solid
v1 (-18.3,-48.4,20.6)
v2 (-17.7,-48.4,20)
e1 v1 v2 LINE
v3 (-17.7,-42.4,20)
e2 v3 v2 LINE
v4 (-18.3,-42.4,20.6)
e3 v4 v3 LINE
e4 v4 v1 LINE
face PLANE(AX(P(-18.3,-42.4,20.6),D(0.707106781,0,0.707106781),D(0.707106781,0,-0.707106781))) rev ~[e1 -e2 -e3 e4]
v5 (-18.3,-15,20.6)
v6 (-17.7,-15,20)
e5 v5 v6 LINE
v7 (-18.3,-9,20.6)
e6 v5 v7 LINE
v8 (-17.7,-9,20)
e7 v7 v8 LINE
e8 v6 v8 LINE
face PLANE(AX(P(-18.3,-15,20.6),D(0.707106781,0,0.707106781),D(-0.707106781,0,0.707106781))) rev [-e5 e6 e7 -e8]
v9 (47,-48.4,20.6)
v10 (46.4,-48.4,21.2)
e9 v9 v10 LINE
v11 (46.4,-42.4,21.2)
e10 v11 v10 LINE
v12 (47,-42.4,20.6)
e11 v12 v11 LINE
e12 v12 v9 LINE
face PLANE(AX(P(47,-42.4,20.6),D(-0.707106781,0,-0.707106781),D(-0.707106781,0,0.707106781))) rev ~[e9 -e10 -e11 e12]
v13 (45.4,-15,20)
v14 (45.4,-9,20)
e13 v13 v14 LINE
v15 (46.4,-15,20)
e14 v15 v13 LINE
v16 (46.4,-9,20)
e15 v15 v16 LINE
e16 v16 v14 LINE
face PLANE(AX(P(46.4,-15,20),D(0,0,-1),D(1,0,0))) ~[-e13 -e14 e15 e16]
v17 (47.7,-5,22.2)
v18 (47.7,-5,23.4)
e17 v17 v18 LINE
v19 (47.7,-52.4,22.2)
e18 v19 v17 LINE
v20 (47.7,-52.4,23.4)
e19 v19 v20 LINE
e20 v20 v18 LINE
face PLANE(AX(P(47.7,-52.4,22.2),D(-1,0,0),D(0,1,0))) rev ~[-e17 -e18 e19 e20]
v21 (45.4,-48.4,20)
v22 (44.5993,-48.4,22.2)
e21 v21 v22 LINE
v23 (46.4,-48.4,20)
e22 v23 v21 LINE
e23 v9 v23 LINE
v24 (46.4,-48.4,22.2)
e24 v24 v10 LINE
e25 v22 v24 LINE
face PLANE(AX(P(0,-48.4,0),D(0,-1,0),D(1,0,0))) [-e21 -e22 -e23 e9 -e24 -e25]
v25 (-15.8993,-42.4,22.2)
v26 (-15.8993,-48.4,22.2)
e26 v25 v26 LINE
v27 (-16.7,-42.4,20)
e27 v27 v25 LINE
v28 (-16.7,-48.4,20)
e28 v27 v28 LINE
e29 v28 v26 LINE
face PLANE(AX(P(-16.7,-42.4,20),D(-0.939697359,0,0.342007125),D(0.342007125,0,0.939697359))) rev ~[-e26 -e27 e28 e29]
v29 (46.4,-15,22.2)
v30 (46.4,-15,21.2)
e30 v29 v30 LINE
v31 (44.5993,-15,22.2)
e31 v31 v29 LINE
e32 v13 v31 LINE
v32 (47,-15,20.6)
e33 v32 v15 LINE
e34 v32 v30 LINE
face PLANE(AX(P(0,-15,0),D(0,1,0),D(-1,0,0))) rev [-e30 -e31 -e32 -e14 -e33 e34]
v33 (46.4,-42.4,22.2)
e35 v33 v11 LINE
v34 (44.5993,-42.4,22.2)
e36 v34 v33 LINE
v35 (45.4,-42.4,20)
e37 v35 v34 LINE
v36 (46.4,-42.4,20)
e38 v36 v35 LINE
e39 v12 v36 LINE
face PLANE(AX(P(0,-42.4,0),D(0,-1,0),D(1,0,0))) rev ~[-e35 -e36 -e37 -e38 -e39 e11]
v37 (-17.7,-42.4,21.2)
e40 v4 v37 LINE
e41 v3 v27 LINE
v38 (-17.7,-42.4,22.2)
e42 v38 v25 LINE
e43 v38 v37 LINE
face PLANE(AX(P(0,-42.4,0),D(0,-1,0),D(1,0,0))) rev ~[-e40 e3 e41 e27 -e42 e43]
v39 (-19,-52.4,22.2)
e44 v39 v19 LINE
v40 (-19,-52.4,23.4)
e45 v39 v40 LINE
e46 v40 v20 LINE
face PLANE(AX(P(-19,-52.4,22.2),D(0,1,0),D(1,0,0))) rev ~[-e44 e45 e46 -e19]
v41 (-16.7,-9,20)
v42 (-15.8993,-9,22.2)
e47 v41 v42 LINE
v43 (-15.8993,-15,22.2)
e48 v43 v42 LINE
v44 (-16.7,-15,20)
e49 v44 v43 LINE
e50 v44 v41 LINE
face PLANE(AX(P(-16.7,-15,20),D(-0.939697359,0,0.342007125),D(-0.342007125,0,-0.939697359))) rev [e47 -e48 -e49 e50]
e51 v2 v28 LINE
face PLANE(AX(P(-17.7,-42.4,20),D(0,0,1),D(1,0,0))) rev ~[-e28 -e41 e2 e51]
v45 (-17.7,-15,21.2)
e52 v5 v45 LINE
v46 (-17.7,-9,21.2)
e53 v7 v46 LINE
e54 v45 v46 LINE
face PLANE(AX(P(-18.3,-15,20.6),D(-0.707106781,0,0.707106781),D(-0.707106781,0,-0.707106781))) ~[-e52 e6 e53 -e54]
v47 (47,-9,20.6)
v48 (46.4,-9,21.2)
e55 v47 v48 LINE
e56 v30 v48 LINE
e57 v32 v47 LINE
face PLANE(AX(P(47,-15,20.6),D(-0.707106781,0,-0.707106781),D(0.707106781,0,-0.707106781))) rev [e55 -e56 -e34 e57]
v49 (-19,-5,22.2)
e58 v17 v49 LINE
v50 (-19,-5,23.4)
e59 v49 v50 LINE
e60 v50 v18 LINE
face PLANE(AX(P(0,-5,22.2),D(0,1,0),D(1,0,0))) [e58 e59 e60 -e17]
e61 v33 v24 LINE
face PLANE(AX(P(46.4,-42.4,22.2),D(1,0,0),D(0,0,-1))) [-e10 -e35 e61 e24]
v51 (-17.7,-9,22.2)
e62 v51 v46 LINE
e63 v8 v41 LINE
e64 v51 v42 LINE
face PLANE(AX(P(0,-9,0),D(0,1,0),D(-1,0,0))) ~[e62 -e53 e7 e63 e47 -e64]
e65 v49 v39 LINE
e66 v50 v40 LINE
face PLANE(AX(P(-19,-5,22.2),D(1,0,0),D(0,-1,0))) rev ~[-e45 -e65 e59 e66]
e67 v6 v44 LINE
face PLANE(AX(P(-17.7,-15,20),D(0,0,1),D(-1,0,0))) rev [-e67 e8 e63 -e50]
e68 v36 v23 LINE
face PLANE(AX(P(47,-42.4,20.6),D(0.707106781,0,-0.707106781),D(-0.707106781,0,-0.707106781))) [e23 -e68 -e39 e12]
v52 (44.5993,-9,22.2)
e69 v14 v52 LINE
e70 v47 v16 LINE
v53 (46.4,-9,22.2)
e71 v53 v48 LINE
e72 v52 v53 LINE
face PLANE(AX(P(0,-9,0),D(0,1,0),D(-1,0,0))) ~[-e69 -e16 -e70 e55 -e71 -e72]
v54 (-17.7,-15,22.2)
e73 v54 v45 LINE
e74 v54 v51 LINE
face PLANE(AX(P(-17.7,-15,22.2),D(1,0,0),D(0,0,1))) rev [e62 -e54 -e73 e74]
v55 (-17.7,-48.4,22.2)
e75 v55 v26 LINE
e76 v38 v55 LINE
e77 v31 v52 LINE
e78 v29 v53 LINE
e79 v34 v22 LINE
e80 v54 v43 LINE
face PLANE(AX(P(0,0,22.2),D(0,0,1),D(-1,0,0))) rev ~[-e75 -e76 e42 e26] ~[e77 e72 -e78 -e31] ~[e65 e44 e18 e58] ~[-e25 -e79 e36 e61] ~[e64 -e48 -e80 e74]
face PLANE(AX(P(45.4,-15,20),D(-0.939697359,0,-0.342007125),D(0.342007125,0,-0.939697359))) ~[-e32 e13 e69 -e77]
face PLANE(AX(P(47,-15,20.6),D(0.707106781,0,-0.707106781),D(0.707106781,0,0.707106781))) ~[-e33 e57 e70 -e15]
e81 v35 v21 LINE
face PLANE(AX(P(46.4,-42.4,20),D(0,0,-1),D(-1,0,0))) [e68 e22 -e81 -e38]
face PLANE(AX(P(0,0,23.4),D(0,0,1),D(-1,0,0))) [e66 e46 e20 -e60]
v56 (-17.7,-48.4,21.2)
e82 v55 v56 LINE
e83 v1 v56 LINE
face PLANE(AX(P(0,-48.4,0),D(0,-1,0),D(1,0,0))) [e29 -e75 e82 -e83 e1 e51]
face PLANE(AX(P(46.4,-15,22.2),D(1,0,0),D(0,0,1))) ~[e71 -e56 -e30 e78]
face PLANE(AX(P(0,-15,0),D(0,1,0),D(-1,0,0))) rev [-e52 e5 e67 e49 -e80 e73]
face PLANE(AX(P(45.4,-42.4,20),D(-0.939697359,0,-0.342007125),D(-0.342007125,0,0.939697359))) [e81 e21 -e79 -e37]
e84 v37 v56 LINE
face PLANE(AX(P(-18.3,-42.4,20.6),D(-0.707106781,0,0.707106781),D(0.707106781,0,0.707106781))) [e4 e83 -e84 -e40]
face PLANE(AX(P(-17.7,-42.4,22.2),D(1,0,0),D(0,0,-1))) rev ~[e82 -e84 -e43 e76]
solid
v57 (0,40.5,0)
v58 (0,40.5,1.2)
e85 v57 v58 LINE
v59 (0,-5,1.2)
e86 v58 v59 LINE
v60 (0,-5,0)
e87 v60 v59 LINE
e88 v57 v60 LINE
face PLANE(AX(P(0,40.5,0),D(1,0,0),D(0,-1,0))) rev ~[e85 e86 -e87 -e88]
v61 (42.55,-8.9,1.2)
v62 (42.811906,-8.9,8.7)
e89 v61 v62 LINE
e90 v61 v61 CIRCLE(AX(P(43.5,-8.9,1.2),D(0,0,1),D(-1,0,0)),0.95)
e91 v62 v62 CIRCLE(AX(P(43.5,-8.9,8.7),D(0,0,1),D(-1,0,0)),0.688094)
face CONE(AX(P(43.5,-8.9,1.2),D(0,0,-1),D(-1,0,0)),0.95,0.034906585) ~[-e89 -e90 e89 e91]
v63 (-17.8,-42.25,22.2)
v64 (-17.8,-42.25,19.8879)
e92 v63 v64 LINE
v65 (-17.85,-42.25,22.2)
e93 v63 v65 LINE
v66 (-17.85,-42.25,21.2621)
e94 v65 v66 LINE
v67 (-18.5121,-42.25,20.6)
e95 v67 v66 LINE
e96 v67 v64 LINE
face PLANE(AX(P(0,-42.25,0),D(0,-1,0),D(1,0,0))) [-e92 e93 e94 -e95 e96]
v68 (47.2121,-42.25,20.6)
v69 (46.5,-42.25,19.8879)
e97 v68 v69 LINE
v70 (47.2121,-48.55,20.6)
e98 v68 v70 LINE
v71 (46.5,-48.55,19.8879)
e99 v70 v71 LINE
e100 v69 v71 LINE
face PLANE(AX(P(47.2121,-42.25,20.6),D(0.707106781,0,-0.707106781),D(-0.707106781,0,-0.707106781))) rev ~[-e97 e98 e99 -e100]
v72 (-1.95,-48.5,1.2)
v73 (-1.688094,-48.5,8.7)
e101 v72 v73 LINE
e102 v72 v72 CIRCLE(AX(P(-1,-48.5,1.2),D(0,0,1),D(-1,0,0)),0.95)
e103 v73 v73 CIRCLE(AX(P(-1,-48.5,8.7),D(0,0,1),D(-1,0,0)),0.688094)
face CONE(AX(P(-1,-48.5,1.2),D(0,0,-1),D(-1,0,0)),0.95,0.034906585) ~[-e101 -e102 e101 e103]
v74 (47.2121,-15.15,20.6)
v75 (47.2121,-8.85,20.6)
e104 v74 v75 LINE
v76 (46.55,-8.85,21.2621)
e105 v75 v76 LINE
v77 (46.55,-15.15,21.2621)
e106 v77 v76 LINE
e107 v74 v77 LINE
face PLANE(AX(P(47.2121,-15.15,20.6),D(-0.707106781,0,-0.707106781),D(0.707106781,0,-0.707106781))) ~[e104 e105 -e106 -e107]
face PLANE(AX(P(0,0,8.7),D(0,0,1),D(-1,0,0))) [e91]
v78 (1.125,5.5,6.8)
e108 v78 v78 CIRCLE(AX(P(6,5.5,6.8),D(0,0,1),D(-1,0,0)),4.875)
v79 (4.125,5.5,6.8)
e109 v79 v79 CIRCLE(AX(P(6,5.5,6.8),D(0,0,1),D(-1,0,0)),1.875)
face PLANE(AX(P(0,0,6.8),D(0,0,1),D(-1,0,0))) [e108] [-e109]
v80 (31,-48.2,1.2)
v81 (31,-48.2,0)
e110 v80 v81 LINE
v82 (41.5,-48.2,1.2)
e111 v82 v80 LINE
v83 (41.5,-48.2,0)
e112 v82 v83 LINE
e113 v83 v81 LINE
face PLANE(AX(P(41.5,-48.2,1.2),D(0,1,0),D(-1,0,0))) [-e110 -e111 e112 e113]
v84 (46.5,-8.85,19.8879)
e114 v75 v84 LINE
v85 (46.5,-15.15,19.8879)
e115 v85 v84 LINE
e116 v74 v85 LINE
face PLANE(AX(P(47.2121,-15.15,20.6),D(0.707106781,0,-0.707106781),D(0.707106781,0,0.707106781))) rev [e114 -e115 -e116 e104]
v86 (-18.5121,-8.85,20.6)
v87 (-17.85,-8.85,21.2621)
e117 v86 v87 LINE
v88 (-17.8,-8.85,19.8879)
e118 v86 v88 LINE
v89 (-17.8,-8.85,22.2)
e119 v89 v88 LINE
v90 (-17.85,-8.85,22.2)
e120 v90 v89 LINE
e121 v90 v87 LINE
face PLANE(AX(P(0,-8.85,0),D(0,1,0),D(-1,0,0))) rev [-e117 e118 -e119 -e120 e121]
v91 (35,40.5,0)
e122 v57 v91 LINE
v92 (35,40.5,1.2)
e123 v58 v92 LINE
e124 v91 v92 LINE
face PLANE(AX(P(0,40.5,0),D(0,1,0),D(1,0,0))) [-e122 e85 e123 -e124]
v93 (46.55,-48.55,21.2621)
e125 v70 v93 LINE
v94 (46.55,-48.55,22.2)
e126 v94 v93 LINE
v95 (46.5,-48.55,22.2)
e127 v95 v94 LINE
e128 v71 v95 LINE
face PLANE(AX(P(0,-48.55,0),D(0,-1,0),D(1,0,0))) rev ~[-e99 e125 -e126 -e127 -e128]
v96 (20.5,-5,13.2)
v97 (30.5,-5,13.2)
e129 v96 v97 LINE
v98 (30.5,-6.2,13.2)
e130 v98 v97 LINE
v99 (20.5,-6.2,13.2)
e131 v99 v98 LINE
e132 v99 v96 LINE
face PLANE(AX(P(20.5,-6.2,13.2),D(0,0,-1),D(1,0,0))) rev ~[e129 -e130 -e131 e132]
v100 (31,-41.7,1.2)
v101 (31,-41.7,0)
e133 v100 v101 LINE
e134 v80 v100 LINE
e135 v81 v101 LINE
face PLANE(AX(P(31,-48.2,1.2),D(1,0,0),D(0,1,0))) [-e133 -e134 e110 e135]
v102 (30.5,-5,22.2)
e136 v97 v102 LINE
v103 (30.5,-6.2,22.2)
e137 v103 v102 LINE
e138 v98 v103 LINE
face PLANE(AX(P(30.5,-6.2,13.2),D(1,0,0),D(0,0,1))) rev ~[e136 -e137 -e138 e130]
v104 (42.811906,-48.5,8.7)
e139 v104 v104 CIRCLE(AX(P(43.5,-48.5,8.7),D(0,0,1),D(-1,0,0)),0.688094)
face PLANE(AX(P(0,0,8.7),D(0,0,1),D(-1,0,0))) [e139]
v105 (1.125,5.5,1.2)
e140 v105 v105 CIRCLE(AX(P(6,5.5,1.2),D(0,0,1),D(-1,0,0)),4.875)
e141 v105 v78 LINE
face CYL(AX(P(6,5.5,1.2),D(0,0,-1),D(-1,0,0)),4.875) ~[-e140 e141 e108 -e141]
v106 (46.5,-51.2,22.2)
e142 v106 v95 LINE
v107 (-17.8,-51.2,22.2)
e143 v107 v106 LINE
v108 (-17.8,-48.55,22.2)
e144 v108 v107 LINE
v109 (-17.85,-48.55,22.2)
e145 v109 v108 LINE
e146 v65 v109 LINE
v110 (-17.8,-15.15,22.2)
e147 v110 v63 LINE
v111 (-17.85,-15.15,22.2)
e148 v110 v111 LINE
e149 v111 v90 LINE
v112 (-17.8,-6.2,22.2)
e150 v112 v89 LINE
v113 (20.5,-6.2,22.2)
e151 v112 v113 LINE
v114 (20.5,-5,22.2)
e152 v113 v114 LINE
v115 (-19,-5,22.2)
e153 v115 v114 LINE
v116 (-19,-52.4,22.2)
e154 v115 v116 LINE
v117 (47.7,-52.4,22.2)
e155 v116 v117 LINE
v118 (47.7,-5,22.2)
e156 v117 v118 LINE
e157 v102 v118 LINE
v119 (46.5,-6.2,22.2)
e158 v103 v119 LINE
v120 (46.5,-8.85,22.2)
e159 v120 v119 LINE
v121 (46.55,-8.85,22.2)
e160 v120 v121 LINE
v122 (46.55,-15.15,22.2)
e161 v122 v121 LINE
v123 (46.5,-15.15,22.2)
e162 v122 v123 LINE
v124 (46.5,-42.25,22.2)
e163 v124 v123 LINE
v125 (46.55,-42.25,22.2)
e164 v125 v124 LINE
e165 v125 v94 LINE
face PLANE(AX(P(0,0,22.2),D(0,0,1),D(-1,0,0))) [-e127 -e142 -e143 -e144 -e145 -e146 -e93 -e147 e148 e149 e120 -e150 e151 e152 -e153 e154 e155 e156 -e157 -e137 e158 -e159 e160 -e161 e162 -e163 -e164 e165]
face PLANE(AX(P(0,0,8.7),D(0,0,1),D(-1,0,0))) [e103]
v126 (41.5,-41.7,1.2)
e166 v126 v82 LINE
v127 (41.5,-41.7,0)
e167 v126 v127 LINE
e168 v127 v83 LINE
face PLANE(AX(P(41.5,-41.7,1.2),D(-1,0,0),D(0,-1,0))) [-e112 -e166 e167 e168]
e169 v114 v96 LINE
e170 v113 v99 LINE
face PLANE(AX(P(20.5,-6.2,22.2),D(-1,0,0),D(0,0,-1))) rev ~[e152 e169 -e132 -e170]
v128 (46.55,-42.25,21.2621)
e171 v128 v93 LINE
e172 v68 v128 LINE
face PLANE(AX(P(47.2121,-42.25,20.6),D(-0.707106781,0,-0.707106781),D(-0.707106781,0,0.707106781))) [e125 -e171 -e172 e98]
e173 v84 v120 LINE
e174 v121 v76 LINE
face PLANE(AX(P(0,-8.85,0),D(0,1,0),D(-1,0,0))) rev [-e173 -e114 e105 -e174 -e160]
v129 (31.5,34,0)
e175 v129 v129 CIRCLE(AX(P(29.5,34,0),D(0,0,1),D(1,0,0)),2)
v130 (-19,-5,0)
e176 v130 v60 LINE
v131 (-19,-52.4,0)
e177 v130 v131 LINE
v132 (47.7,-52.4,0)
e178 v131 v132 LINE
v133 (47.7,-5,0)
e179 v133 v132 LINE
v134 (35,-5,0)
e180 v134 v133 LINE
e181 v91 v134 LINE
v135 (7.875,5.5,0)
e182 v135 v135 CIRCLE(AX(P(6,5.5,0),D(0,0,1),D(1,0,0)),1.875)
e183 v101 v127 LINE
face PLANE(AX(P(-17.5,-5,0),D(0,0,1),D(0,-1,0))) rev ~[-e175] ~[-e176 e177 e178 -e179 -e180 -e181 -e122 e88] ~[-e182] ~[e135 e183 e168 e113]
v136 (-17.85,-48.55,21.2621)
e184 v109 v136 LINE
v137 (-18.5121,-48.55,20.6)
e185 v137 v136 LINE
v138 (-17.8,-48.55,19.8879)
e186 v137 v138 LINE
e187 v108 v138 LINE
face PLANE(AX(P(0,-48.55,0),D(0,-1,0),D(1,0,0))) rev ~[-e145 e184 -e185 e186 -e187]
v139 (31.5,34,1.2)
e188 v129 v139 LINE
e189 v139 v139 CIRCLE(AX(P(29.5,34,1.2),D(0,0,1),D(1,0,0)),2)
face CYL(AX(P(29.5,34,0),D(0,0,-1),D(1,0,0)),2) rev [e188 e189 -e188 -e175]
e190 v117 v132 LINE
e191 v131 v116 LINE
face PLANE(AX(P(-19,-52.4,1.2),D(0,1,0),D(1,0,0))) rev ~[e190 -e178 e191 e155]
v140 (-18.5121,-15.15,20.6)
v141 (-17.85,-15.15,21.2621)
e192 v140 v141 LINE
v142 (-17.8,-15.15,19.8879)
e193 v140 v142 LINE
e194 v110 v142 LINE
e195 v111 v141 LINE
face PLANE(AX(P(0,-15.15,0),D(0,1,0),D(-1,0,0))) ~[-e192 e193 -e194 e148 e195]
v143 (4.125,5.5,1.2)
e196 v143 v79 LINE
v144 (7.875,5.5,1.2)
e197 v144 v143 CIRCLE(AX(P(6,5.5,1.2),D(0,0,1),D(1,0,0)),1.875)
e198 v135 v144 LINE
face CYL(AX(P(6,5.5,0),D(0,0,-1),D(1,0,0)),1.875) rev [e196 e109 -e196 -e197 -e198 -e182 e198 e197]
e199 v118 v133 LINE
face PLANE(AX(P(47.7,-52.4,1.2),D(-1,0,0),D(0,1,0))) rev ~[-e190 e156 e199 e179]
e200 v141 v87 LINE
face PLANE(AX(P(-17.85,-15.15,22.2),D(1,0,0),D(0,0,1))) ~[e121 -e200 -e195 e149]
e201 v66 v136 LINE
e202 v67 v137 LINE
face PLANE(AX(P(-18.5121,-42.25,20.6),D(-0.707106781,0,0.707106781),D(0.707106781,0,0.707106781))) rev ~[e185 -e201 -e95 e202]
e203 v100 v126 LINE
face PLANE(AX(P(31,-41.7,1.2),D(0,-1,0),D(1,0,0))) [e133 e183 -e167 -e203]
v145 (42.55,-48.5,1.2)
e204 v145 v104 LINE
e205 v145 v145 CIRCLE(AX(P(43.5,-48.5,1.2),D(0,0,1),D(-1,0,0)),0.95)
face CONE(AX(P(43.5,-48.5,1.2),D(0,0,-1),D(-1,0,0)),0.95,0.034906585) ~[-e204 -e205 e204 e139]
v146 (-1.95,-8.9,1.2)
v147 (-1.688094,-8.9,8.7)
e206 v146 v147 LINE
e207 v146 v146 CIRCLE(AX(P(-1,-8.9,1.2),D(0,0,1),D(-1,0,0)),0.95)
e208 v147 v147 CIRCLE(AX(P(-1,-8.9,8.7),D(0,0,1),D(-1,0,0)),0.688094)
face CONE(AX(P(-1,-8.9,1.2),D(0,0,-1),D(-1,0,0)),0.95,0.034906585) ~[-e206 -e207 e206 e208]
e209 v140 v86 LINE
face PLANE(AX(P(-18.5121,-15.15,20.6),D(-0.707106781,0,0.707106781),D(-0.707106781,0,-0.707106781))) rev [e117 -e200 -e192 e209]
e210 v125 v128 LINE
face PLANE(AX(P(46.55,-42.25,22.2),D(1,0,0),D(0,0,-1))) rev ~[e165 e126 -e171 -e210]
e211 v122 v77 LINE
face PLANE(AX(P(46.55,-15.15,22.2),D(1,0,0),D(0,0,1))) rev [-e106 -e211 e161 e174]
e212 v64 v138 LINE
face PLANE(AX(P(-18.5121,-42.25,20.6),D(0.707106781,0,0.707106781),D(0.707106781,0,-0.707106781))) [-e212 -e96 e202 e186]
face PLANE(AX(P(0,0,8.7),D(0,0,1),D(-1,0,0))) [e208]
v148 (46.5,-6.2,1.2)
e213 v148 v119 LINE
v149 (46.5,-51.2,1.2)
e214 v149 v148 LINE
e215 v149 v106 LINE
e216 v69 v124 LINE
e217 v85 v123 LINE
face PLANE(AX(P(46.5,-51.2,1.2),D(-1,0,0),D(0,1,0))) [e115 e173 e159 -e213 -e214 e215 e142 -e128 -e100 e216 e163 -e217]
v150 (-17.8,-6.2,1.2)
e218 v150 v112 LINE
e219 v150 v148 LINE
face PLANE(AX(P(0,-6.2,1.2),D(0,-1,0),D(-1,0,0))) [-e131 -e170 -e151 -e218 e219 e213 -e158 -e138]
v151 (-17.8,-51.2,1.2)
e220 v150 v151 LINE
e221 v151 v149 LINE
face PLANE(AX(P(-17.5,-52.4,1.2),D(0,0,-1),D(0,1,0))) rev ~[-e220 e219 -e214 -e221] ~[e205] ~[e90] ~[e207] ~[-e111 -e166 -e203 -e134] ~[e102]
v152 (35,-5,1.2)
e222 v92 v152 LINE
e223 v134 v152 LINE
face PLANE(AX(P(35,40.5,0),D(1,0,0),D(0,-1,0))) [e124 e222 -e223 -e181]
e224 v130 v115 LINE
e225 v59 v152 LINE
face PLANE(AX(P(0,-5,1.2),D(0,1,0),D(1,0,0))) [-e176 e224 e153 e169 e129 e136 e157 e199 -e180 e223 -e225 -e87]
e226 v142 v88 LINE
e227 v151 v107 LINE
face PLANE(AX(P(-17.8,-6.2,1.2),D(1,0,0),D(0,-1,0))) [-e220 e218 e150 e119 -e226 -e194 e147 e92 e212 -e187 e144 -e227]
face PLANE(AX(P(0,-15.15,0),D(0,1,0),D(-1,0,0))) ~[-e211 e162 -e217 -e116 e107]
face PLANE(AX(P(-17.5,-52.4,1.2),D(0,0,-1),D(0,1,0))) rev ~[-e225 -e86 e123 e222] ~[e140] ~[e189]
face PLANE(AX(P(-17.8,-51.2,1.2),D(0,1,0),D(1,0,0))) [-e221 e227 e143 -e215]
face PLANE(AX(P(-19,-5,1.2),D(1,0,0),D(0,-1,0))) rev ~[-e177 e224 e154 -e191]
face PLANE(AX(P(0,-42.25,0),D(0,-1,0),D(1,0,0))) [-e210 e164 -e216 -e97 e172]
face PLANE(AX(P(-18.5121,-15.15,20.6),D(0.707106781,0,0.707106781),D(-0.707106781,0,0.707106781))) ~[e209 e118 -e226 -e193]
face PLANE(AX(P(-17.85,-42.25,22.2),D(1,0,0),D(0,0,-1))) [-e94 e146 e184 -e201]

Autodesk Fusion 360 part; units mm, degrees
sketch "Sketch1" plane through (0, 0, 0) normal (0, 0, 1) x (1, 0, 0)
  line L0 (0, 0) -> (35, 0) construction
  line L1 (35, 0) -> (35, 40.5) construction
  line L2 (35, 40.5) -> (0, 40.5) construction
  line L3 (0, 40.5) -> (0, 0) construction
  line L4 (0, 0) -> (6, 0) construction
  line L5 (6, 0) -> (6, 5.5) construction
  line L6 (6, 5.5) -> (0, 5.5) construction
  line L7 (0, 5.5) -> (0, 0) construction
  line L8 (35, 40.5) -> (29.5, 40.5) construction
  line L9 (29.5, 40.5) -> (29.5, 34) construction
  line L10 (29.5, 34) -> (35, 34) construction
  line L11 (35, 34) -> (35, 40.5) construction
  circle A0 centre (29.5, 34) radius 2
  circle A1 centre (6, 5.5) radius 1.875
  line L12 (0, 40.5) -> (11.5, 40.5) construction
  line L13 (11.5, 40.5) -> (11.5, 0) construction
  line L14 (11.5, 0) -> (11.5, -5) construction
  line L15 (11.5, -5) -> (36.5, -5) construction
  line L16 (36.5, -5) -> (36.5, 48) construction
  line L17 (36.5, 48) -> (11.5, 48) construction
  line L18 (11.5, 48) -> (11.5, -5) construction
  line L19 (36.5, -5) -> (46.5, -5) construction
  line L20 (46.5, -5) -> (-17.5, -5)
  line L21 (-17.5, -5) -> (-17.5, -50)
  line L22 (-17.5, -50) -> (46.5, -50)
  line L23 (46.5, -50) -> (46.5, -5)
  line L24 (0, 40.5) -> (0, -5)
  line L25 (0, 40.5) -> (35, 40.5)
  line L26 (35, 40.5) -> (35, -5)
  dimension "d1" = 35
  dimension "d2" = 40.5
  dimension "d3" = 6
  dimension "d4" = 5.5
  dimension "d5" = 5.5
  dimension "d6" = 6.5
  dimension "d7" = 4
  dimension "d8" = 3.75
  dimension "d9" = 11.5
  dimension "d10" = 5
  dimension "d11" = 25
  dimension "d12" = 53
  dimension "d13" = 10
  dimension "d14" = 64
  dimension "d15" = 45
extrude "Extrude1" add sketch "Sketch1" along normal blind 1.2 makes body 1
sketch "Sketch2" plane through (0, 0, 1.2) normal (0, 0, 1) x (-1, 0, 0)
  circle A0 centre (-6, -5.5) radius 1.875
  circle A1 centre (-29.5, -34) radius 2
  line L0 (0, -40.5) -> (0, 5)
  line L1 (0, 5) -> (17.5, 5)
  line L2 (17.5, 5) -> (17.5, 50)
  line L3 (17.5, 50) -> (-46.5, 50)
  line L4 (-46.5, 50) -> (-46.5, 5)
  line L5 (-46.5, 5) -> (-35, 5)
  line L6 (-35, 5) -> (-35, -40.5)
  line L7 (-35, -40.5) -> (0, -40.5)
  circle A2 centre (-6, -5.5) radius 4.875
  line L8 (17.5, 5) -> (-46.5, 5)
  line L9 (-46.5, 5) -> (-46.5, 50)
  line L10 (-46.5, 50) -> (17.5, 50)
  line L11 (17.5, 50) -> (17.5, 5)
  dimension "d18" = 3
extrude "Extrude2" add sketch "Sketch2" along normal blind 5.6 contours A2 bodies 1
extrude "Extrude3" add 1 faces at (3.8333, -50, 0.4) along direction (0, -1, 0) blind 2.4 on bodies 1 bodies 1
extrude "Extrude4" add 1 faces at (46.5, -36.6, 0.8) along direction (1, 0, 0) blind 1.2 on bodies 1 bodies 1
extrude "Extrude5" add 1 faces at (-17.5, -36.6, 0.8) along direction (-1, 0, 0) blind 1.5 on bodies 1 bodies 1
sketch "Sketch3" plane through (0, 0, 1.2) normal (0, 0, 1) x (-1, 0, 0)
  circle A0 centre (-6, -5.5) radius 4.875
  circle A1 centre (-29.5, -34) radius 2
  line L0 (0, -40.5) -> (0, 5)
  line L1 (0, 5) -> (19, 5)
  line L2 (19, 5) -> (19, 52.4)
  line L3 (19, 52.4) -> (-47.7, 52.4)
  line L4 (-47.7, 52.4) -> (-47.7, 5)
  line L5 (-47.7, 5) -> (-35, 5)
  line L6 (-35, 5) -> (-35, -40.5)
  line L7 (-35, -40.5) -> (0, -40.5)
  line L8 (0, 5) -> (-35, 5)
  line L9 (0, 6.2) -> (-35, 6.2)
  line L10 (-46.5, 6.2) -> (-35, 6.2)
  line L11 (-46.5, 51.2) -> (-46.5, 6.2)
  line L12 (17.8, 51.2) -> (-46.5, 51.2)
  line L13 (17.8, 6.2) -> (17.8, 51.2)
  line L14 (0, 6.2) -> (17.8, 6.2)
  line L15 (-46.5, 51.2) -> (-46.5, 48.2) construction
  line L16 (-46.5, 48.2) -> (-41.5, 48.2) construction
  line L17 (-41.5, 48.2) -> (-31, 48.2)
  line L18 (-31, 48.2) -> (-31, 41.7)
  line L19 (-31, 41.7) -> (-41.5, 41.7)
  line L20 (-41.5, 41.7) -> (-41.5, 48.2)
  line L21 (-46.5, 51.2) -> (-46.5, 48.5) construction
  line L22 (-46.5, 48.5) -> (-43.5, 48.5) construction
  circle A2 centre (-43.5, 48.5) radius 0.95
  line L23 (-46.5, 6.2) -> (-43.5, 6.2) construction
  line L24 (-43.5, 6.2) -> (-43.5, 8.9) construction
  line L25 (-43.5, 8.9) -> (-46.5, 8.9) construction
  line L26 (-46.5, 8.9) -> (-46.5, 6.2) construction
  circle A3 centre (-43.5, 8.9) radius 0.95
  line L27 (-43.5, 8.9) -> (1, 8.9) construction
  line L28 (-43.5, 48.5) -> (1, 48.5) construction
  circle A4 centre (1, 8.9) radius 0.95
  circle A5 centre (1, 48.5) radius 0.95
  dimension "d27" = -1.2
  dimension "d28" = 3
  dimension "d29" = 5
  dimension "d30" = 10.5
  dimension "d31" = 6.5
  dimension "d32" = 2.7
  dimension "d33" = 3
  dimension "d34" = 1.9
  dimension "d35" = 3
  dimension "d36" = 2.7
  dimension "d37" = 1.9
  dimension "d38" = 44.5
  dimension "d39" = 44.5
  dimension "d40" = 1.9
  dimension "d41" = 1.9
extrude "Extrude6" cut sketch "Sketch3" against normal blind 1.2 contours L17 L18 L19 L20 bodies 1
extrude "Extrude7" add sketch "Sketch3" along normal blind 21 contours L1 L2 L3 L4 L5 L8 bodies 1
extrude "Extrude8" add sketch "Sketch3" along normal blind 7.5 draft -2 contours A2 | A3 | A4 | A5 bodies 1
sketch "Sketch4" plane through (0, -6.2, 0) normal (0, -1, 0) x (1, 0, 0)
  line L0 (35, 1.2) -> (46.5, 1.2)
  line L1 (46.5, 1.2) -> (46.5, 22.2)
  line L2 (46.5, 22.2) -> (35, 22.2)
  line L3 (35, 22.2) -> (35, 1.2)
  line L4 (46.5, 22.2) -> (30.5, 22.2)
  line L5 (30.5, 22.2) -> (20.5, 22.2)
  line L6 (20.5, 22.2) -> (20.5, 13.2)
  line L7 (20.5, 13.2) -> (30.5, 13.2)
  line L8 (30.5, 13.2) -> (30.5, 22.2)
  dimension "d48" = 16
  dimension "d49" = 9
  dimension "d50" = 10
extrude "Extrude9" cut sketch "Sketch4" against normal blind 1.2 contours L5 L6 L7 L8 bodies 1
extrude "Extrude10" add sketch "Sketch3" along normal blind 1.2 from surface at 21 separate body contours L1 L2 L3 L4 L5 L8 | L9 L10 L11 L12 L13 L14 | L17 L18 L19 L20 | A2 | A3 | A4 | A5 makes body 2
sketch "Sketch5" plane through (0, -52.4, 0) normal (0, -1, 0) x (1, 0, 0)
  line L0 (-19, 22.2) -> (47.7, 22.2)
  line L1 (47.7, 22.2) -> (47.7, 23.4)
  line L2 (47.7, 23.4) -> (-19, 23.4)
  line L3 (-19, 23.4) -> (-19, 22.2)
  line L4 (-19, 22.2) -> (-17.7, 22.2) construction
  line L5 (-17.7, 22.2) -> (-17.7, 21.2)
  line L6 (-17.7, 21.2) -> (-17.7, 20.6) construction
  line L7 (-17.7, 20.6) -> (-17.7, 20) construction
  line L8 (-17.7, 20.6) -> (-18.3, 20.6) construction
  line L9 (-18.3, 20.6) -> (-17.7, 21.2)
  line L10 (-18.3, 20.6) -> (-17.7, 20)
  line L11 (-17.7, 20) -> (-16.7, 20)
  line L12 (-16.7, 20) -> (-15.8993, 22.2)
  line L13 (-16.7, 20) -> (-14.3588, 20) construction
  line L14 (-19, 22.2) -> (14.35, 22.2) construction
  line L15 (14.35, 22.2) -> (14.35, 12) construction
  line L16 (-17.85, 22.2) -> (-17.85, 21.2621)
  line L17 (-18.5121, 20.6) -> (-17.85, 21.2621)
  line L18 (-18.5121, 20.6) -> (-17.7621, 19.85)
  line L19 (-17.7621, 19.85) -> (-16.595, 19.85)
  line L20 (-16.595, 19.85) -> (-15.7583, 22.1487)
  line L21 (-15.7583, 22.1487) -> (-15.74, 22.2)
  line L22 (46.4, 22.2) -> (46.4, 21.2)
  line L23 (46.55, 22.2) -> (46.55, 21.2621)
  line L24 (47.2121, 20.6) -> (46.55, 21.2621)
  line L25 (47, 20.6) -> (46.4, 21.2)
  line L26 (47.2121, 20.6) -> (46.4621, 19.85)
  line L27 (47, 20.6) -> (46.4, 20)
  line L28 (46.4621, 19.85) -> (45.295, 19.85)
  line L29 (46.4, 20) -> (45.4, 20)
  line L30 (45.295, 19.85) -> (44.4583, 22.1487)
  line L31 (45.4, 20) -> (44.5993, 22.2)
  line L32 (44.4583, 22.1487) -> (44.44, 22.2)
  dimension "d56" = 1.3
  dimension "d57" = 1
  dimension "d58" = 0.6
  dimension "d59" = 0.6
  dimension "d60" = 0.6
  dimension "d61" = 1
  dimension "d62" = 70
  dimension "d63" = 0.15
sketch "Sketch6" plane through (0, 0, 22.2) normal (0, 0, -1) x (1, 0, 0)
  line L0 (-19, 52.4) -> (-19, 5)
  line L1 (-19, 5) -> (0, 5)
  line L2 (0, 5) -> (35, 5)
  line L3 (35, 5) -> (47.7, 5)
  line L4 (47.7, 5) -> (47.7, 52.4)
  line L5 (47.7, 52.4) -> (-19, 52.4)
  line L6 (-19, 28.7) -> (-18, 28.7)
  line L7 (-18, 28.7) -> (47.7, 28.7) construction
extrude "Extrude11" add sketch "Sketch5" along normal blind 6 from surface at -10 separate body contours L0 L5 L9 L10 L11 L12 | L0 L22 L25 L27 L29 L31 makes body 3 at (-16.4331, -44.4, 20.7333) makes body 4 at (45.1331, -44.4, 20.7333)
ref_plane "WorkPlane1" through (14.35, -28.7, 22.8) normal (0, -1, 0) x (1, 0, 0)
mirror "Mirror1" about plane through (14.35, -28.7, 22.8) normal (0, -1, 0) of bodies 3 4 makes body 5 at (-16.4331, -13, 20.7333) makes body 6 at (45.1331, -13, 20.7333)
combine "Combine1" operation add target body 6 tool bodies 5 3 4 2
extrude "Extrude12" add sketch "Sketch5" along normal blind 6.3 from surface at -10.15 separate body contours L0 L5 L9 L10 L11 L12 L16 L17 L18 L19 L20 L21 | L0 L5 L9 L10 L11 L12 | L0 L22 L23 L24 L25 L26 L27 L28 L29 L30 L31 L32 | L0 L22 L25 L27 L29 L31 makes body 7 at (45.0161, -44.35, 20.6162) makes body 8 at (-16.3161, -44.35, 20.6162)
mirror "Mirror2" about plane through (14.35, -28.7, 22.8) normal (0, -1, 0) of bodies 8 7 makes body 9 at (-16.3161, -13.05, 20.6162) makes body 10 at (45.0161, -10.95, 20.6162)
combine "Combine2" operation cut target body 1 tool bodies 7 8 9 10
equation "d49 = 21 mm - 12 mm"
